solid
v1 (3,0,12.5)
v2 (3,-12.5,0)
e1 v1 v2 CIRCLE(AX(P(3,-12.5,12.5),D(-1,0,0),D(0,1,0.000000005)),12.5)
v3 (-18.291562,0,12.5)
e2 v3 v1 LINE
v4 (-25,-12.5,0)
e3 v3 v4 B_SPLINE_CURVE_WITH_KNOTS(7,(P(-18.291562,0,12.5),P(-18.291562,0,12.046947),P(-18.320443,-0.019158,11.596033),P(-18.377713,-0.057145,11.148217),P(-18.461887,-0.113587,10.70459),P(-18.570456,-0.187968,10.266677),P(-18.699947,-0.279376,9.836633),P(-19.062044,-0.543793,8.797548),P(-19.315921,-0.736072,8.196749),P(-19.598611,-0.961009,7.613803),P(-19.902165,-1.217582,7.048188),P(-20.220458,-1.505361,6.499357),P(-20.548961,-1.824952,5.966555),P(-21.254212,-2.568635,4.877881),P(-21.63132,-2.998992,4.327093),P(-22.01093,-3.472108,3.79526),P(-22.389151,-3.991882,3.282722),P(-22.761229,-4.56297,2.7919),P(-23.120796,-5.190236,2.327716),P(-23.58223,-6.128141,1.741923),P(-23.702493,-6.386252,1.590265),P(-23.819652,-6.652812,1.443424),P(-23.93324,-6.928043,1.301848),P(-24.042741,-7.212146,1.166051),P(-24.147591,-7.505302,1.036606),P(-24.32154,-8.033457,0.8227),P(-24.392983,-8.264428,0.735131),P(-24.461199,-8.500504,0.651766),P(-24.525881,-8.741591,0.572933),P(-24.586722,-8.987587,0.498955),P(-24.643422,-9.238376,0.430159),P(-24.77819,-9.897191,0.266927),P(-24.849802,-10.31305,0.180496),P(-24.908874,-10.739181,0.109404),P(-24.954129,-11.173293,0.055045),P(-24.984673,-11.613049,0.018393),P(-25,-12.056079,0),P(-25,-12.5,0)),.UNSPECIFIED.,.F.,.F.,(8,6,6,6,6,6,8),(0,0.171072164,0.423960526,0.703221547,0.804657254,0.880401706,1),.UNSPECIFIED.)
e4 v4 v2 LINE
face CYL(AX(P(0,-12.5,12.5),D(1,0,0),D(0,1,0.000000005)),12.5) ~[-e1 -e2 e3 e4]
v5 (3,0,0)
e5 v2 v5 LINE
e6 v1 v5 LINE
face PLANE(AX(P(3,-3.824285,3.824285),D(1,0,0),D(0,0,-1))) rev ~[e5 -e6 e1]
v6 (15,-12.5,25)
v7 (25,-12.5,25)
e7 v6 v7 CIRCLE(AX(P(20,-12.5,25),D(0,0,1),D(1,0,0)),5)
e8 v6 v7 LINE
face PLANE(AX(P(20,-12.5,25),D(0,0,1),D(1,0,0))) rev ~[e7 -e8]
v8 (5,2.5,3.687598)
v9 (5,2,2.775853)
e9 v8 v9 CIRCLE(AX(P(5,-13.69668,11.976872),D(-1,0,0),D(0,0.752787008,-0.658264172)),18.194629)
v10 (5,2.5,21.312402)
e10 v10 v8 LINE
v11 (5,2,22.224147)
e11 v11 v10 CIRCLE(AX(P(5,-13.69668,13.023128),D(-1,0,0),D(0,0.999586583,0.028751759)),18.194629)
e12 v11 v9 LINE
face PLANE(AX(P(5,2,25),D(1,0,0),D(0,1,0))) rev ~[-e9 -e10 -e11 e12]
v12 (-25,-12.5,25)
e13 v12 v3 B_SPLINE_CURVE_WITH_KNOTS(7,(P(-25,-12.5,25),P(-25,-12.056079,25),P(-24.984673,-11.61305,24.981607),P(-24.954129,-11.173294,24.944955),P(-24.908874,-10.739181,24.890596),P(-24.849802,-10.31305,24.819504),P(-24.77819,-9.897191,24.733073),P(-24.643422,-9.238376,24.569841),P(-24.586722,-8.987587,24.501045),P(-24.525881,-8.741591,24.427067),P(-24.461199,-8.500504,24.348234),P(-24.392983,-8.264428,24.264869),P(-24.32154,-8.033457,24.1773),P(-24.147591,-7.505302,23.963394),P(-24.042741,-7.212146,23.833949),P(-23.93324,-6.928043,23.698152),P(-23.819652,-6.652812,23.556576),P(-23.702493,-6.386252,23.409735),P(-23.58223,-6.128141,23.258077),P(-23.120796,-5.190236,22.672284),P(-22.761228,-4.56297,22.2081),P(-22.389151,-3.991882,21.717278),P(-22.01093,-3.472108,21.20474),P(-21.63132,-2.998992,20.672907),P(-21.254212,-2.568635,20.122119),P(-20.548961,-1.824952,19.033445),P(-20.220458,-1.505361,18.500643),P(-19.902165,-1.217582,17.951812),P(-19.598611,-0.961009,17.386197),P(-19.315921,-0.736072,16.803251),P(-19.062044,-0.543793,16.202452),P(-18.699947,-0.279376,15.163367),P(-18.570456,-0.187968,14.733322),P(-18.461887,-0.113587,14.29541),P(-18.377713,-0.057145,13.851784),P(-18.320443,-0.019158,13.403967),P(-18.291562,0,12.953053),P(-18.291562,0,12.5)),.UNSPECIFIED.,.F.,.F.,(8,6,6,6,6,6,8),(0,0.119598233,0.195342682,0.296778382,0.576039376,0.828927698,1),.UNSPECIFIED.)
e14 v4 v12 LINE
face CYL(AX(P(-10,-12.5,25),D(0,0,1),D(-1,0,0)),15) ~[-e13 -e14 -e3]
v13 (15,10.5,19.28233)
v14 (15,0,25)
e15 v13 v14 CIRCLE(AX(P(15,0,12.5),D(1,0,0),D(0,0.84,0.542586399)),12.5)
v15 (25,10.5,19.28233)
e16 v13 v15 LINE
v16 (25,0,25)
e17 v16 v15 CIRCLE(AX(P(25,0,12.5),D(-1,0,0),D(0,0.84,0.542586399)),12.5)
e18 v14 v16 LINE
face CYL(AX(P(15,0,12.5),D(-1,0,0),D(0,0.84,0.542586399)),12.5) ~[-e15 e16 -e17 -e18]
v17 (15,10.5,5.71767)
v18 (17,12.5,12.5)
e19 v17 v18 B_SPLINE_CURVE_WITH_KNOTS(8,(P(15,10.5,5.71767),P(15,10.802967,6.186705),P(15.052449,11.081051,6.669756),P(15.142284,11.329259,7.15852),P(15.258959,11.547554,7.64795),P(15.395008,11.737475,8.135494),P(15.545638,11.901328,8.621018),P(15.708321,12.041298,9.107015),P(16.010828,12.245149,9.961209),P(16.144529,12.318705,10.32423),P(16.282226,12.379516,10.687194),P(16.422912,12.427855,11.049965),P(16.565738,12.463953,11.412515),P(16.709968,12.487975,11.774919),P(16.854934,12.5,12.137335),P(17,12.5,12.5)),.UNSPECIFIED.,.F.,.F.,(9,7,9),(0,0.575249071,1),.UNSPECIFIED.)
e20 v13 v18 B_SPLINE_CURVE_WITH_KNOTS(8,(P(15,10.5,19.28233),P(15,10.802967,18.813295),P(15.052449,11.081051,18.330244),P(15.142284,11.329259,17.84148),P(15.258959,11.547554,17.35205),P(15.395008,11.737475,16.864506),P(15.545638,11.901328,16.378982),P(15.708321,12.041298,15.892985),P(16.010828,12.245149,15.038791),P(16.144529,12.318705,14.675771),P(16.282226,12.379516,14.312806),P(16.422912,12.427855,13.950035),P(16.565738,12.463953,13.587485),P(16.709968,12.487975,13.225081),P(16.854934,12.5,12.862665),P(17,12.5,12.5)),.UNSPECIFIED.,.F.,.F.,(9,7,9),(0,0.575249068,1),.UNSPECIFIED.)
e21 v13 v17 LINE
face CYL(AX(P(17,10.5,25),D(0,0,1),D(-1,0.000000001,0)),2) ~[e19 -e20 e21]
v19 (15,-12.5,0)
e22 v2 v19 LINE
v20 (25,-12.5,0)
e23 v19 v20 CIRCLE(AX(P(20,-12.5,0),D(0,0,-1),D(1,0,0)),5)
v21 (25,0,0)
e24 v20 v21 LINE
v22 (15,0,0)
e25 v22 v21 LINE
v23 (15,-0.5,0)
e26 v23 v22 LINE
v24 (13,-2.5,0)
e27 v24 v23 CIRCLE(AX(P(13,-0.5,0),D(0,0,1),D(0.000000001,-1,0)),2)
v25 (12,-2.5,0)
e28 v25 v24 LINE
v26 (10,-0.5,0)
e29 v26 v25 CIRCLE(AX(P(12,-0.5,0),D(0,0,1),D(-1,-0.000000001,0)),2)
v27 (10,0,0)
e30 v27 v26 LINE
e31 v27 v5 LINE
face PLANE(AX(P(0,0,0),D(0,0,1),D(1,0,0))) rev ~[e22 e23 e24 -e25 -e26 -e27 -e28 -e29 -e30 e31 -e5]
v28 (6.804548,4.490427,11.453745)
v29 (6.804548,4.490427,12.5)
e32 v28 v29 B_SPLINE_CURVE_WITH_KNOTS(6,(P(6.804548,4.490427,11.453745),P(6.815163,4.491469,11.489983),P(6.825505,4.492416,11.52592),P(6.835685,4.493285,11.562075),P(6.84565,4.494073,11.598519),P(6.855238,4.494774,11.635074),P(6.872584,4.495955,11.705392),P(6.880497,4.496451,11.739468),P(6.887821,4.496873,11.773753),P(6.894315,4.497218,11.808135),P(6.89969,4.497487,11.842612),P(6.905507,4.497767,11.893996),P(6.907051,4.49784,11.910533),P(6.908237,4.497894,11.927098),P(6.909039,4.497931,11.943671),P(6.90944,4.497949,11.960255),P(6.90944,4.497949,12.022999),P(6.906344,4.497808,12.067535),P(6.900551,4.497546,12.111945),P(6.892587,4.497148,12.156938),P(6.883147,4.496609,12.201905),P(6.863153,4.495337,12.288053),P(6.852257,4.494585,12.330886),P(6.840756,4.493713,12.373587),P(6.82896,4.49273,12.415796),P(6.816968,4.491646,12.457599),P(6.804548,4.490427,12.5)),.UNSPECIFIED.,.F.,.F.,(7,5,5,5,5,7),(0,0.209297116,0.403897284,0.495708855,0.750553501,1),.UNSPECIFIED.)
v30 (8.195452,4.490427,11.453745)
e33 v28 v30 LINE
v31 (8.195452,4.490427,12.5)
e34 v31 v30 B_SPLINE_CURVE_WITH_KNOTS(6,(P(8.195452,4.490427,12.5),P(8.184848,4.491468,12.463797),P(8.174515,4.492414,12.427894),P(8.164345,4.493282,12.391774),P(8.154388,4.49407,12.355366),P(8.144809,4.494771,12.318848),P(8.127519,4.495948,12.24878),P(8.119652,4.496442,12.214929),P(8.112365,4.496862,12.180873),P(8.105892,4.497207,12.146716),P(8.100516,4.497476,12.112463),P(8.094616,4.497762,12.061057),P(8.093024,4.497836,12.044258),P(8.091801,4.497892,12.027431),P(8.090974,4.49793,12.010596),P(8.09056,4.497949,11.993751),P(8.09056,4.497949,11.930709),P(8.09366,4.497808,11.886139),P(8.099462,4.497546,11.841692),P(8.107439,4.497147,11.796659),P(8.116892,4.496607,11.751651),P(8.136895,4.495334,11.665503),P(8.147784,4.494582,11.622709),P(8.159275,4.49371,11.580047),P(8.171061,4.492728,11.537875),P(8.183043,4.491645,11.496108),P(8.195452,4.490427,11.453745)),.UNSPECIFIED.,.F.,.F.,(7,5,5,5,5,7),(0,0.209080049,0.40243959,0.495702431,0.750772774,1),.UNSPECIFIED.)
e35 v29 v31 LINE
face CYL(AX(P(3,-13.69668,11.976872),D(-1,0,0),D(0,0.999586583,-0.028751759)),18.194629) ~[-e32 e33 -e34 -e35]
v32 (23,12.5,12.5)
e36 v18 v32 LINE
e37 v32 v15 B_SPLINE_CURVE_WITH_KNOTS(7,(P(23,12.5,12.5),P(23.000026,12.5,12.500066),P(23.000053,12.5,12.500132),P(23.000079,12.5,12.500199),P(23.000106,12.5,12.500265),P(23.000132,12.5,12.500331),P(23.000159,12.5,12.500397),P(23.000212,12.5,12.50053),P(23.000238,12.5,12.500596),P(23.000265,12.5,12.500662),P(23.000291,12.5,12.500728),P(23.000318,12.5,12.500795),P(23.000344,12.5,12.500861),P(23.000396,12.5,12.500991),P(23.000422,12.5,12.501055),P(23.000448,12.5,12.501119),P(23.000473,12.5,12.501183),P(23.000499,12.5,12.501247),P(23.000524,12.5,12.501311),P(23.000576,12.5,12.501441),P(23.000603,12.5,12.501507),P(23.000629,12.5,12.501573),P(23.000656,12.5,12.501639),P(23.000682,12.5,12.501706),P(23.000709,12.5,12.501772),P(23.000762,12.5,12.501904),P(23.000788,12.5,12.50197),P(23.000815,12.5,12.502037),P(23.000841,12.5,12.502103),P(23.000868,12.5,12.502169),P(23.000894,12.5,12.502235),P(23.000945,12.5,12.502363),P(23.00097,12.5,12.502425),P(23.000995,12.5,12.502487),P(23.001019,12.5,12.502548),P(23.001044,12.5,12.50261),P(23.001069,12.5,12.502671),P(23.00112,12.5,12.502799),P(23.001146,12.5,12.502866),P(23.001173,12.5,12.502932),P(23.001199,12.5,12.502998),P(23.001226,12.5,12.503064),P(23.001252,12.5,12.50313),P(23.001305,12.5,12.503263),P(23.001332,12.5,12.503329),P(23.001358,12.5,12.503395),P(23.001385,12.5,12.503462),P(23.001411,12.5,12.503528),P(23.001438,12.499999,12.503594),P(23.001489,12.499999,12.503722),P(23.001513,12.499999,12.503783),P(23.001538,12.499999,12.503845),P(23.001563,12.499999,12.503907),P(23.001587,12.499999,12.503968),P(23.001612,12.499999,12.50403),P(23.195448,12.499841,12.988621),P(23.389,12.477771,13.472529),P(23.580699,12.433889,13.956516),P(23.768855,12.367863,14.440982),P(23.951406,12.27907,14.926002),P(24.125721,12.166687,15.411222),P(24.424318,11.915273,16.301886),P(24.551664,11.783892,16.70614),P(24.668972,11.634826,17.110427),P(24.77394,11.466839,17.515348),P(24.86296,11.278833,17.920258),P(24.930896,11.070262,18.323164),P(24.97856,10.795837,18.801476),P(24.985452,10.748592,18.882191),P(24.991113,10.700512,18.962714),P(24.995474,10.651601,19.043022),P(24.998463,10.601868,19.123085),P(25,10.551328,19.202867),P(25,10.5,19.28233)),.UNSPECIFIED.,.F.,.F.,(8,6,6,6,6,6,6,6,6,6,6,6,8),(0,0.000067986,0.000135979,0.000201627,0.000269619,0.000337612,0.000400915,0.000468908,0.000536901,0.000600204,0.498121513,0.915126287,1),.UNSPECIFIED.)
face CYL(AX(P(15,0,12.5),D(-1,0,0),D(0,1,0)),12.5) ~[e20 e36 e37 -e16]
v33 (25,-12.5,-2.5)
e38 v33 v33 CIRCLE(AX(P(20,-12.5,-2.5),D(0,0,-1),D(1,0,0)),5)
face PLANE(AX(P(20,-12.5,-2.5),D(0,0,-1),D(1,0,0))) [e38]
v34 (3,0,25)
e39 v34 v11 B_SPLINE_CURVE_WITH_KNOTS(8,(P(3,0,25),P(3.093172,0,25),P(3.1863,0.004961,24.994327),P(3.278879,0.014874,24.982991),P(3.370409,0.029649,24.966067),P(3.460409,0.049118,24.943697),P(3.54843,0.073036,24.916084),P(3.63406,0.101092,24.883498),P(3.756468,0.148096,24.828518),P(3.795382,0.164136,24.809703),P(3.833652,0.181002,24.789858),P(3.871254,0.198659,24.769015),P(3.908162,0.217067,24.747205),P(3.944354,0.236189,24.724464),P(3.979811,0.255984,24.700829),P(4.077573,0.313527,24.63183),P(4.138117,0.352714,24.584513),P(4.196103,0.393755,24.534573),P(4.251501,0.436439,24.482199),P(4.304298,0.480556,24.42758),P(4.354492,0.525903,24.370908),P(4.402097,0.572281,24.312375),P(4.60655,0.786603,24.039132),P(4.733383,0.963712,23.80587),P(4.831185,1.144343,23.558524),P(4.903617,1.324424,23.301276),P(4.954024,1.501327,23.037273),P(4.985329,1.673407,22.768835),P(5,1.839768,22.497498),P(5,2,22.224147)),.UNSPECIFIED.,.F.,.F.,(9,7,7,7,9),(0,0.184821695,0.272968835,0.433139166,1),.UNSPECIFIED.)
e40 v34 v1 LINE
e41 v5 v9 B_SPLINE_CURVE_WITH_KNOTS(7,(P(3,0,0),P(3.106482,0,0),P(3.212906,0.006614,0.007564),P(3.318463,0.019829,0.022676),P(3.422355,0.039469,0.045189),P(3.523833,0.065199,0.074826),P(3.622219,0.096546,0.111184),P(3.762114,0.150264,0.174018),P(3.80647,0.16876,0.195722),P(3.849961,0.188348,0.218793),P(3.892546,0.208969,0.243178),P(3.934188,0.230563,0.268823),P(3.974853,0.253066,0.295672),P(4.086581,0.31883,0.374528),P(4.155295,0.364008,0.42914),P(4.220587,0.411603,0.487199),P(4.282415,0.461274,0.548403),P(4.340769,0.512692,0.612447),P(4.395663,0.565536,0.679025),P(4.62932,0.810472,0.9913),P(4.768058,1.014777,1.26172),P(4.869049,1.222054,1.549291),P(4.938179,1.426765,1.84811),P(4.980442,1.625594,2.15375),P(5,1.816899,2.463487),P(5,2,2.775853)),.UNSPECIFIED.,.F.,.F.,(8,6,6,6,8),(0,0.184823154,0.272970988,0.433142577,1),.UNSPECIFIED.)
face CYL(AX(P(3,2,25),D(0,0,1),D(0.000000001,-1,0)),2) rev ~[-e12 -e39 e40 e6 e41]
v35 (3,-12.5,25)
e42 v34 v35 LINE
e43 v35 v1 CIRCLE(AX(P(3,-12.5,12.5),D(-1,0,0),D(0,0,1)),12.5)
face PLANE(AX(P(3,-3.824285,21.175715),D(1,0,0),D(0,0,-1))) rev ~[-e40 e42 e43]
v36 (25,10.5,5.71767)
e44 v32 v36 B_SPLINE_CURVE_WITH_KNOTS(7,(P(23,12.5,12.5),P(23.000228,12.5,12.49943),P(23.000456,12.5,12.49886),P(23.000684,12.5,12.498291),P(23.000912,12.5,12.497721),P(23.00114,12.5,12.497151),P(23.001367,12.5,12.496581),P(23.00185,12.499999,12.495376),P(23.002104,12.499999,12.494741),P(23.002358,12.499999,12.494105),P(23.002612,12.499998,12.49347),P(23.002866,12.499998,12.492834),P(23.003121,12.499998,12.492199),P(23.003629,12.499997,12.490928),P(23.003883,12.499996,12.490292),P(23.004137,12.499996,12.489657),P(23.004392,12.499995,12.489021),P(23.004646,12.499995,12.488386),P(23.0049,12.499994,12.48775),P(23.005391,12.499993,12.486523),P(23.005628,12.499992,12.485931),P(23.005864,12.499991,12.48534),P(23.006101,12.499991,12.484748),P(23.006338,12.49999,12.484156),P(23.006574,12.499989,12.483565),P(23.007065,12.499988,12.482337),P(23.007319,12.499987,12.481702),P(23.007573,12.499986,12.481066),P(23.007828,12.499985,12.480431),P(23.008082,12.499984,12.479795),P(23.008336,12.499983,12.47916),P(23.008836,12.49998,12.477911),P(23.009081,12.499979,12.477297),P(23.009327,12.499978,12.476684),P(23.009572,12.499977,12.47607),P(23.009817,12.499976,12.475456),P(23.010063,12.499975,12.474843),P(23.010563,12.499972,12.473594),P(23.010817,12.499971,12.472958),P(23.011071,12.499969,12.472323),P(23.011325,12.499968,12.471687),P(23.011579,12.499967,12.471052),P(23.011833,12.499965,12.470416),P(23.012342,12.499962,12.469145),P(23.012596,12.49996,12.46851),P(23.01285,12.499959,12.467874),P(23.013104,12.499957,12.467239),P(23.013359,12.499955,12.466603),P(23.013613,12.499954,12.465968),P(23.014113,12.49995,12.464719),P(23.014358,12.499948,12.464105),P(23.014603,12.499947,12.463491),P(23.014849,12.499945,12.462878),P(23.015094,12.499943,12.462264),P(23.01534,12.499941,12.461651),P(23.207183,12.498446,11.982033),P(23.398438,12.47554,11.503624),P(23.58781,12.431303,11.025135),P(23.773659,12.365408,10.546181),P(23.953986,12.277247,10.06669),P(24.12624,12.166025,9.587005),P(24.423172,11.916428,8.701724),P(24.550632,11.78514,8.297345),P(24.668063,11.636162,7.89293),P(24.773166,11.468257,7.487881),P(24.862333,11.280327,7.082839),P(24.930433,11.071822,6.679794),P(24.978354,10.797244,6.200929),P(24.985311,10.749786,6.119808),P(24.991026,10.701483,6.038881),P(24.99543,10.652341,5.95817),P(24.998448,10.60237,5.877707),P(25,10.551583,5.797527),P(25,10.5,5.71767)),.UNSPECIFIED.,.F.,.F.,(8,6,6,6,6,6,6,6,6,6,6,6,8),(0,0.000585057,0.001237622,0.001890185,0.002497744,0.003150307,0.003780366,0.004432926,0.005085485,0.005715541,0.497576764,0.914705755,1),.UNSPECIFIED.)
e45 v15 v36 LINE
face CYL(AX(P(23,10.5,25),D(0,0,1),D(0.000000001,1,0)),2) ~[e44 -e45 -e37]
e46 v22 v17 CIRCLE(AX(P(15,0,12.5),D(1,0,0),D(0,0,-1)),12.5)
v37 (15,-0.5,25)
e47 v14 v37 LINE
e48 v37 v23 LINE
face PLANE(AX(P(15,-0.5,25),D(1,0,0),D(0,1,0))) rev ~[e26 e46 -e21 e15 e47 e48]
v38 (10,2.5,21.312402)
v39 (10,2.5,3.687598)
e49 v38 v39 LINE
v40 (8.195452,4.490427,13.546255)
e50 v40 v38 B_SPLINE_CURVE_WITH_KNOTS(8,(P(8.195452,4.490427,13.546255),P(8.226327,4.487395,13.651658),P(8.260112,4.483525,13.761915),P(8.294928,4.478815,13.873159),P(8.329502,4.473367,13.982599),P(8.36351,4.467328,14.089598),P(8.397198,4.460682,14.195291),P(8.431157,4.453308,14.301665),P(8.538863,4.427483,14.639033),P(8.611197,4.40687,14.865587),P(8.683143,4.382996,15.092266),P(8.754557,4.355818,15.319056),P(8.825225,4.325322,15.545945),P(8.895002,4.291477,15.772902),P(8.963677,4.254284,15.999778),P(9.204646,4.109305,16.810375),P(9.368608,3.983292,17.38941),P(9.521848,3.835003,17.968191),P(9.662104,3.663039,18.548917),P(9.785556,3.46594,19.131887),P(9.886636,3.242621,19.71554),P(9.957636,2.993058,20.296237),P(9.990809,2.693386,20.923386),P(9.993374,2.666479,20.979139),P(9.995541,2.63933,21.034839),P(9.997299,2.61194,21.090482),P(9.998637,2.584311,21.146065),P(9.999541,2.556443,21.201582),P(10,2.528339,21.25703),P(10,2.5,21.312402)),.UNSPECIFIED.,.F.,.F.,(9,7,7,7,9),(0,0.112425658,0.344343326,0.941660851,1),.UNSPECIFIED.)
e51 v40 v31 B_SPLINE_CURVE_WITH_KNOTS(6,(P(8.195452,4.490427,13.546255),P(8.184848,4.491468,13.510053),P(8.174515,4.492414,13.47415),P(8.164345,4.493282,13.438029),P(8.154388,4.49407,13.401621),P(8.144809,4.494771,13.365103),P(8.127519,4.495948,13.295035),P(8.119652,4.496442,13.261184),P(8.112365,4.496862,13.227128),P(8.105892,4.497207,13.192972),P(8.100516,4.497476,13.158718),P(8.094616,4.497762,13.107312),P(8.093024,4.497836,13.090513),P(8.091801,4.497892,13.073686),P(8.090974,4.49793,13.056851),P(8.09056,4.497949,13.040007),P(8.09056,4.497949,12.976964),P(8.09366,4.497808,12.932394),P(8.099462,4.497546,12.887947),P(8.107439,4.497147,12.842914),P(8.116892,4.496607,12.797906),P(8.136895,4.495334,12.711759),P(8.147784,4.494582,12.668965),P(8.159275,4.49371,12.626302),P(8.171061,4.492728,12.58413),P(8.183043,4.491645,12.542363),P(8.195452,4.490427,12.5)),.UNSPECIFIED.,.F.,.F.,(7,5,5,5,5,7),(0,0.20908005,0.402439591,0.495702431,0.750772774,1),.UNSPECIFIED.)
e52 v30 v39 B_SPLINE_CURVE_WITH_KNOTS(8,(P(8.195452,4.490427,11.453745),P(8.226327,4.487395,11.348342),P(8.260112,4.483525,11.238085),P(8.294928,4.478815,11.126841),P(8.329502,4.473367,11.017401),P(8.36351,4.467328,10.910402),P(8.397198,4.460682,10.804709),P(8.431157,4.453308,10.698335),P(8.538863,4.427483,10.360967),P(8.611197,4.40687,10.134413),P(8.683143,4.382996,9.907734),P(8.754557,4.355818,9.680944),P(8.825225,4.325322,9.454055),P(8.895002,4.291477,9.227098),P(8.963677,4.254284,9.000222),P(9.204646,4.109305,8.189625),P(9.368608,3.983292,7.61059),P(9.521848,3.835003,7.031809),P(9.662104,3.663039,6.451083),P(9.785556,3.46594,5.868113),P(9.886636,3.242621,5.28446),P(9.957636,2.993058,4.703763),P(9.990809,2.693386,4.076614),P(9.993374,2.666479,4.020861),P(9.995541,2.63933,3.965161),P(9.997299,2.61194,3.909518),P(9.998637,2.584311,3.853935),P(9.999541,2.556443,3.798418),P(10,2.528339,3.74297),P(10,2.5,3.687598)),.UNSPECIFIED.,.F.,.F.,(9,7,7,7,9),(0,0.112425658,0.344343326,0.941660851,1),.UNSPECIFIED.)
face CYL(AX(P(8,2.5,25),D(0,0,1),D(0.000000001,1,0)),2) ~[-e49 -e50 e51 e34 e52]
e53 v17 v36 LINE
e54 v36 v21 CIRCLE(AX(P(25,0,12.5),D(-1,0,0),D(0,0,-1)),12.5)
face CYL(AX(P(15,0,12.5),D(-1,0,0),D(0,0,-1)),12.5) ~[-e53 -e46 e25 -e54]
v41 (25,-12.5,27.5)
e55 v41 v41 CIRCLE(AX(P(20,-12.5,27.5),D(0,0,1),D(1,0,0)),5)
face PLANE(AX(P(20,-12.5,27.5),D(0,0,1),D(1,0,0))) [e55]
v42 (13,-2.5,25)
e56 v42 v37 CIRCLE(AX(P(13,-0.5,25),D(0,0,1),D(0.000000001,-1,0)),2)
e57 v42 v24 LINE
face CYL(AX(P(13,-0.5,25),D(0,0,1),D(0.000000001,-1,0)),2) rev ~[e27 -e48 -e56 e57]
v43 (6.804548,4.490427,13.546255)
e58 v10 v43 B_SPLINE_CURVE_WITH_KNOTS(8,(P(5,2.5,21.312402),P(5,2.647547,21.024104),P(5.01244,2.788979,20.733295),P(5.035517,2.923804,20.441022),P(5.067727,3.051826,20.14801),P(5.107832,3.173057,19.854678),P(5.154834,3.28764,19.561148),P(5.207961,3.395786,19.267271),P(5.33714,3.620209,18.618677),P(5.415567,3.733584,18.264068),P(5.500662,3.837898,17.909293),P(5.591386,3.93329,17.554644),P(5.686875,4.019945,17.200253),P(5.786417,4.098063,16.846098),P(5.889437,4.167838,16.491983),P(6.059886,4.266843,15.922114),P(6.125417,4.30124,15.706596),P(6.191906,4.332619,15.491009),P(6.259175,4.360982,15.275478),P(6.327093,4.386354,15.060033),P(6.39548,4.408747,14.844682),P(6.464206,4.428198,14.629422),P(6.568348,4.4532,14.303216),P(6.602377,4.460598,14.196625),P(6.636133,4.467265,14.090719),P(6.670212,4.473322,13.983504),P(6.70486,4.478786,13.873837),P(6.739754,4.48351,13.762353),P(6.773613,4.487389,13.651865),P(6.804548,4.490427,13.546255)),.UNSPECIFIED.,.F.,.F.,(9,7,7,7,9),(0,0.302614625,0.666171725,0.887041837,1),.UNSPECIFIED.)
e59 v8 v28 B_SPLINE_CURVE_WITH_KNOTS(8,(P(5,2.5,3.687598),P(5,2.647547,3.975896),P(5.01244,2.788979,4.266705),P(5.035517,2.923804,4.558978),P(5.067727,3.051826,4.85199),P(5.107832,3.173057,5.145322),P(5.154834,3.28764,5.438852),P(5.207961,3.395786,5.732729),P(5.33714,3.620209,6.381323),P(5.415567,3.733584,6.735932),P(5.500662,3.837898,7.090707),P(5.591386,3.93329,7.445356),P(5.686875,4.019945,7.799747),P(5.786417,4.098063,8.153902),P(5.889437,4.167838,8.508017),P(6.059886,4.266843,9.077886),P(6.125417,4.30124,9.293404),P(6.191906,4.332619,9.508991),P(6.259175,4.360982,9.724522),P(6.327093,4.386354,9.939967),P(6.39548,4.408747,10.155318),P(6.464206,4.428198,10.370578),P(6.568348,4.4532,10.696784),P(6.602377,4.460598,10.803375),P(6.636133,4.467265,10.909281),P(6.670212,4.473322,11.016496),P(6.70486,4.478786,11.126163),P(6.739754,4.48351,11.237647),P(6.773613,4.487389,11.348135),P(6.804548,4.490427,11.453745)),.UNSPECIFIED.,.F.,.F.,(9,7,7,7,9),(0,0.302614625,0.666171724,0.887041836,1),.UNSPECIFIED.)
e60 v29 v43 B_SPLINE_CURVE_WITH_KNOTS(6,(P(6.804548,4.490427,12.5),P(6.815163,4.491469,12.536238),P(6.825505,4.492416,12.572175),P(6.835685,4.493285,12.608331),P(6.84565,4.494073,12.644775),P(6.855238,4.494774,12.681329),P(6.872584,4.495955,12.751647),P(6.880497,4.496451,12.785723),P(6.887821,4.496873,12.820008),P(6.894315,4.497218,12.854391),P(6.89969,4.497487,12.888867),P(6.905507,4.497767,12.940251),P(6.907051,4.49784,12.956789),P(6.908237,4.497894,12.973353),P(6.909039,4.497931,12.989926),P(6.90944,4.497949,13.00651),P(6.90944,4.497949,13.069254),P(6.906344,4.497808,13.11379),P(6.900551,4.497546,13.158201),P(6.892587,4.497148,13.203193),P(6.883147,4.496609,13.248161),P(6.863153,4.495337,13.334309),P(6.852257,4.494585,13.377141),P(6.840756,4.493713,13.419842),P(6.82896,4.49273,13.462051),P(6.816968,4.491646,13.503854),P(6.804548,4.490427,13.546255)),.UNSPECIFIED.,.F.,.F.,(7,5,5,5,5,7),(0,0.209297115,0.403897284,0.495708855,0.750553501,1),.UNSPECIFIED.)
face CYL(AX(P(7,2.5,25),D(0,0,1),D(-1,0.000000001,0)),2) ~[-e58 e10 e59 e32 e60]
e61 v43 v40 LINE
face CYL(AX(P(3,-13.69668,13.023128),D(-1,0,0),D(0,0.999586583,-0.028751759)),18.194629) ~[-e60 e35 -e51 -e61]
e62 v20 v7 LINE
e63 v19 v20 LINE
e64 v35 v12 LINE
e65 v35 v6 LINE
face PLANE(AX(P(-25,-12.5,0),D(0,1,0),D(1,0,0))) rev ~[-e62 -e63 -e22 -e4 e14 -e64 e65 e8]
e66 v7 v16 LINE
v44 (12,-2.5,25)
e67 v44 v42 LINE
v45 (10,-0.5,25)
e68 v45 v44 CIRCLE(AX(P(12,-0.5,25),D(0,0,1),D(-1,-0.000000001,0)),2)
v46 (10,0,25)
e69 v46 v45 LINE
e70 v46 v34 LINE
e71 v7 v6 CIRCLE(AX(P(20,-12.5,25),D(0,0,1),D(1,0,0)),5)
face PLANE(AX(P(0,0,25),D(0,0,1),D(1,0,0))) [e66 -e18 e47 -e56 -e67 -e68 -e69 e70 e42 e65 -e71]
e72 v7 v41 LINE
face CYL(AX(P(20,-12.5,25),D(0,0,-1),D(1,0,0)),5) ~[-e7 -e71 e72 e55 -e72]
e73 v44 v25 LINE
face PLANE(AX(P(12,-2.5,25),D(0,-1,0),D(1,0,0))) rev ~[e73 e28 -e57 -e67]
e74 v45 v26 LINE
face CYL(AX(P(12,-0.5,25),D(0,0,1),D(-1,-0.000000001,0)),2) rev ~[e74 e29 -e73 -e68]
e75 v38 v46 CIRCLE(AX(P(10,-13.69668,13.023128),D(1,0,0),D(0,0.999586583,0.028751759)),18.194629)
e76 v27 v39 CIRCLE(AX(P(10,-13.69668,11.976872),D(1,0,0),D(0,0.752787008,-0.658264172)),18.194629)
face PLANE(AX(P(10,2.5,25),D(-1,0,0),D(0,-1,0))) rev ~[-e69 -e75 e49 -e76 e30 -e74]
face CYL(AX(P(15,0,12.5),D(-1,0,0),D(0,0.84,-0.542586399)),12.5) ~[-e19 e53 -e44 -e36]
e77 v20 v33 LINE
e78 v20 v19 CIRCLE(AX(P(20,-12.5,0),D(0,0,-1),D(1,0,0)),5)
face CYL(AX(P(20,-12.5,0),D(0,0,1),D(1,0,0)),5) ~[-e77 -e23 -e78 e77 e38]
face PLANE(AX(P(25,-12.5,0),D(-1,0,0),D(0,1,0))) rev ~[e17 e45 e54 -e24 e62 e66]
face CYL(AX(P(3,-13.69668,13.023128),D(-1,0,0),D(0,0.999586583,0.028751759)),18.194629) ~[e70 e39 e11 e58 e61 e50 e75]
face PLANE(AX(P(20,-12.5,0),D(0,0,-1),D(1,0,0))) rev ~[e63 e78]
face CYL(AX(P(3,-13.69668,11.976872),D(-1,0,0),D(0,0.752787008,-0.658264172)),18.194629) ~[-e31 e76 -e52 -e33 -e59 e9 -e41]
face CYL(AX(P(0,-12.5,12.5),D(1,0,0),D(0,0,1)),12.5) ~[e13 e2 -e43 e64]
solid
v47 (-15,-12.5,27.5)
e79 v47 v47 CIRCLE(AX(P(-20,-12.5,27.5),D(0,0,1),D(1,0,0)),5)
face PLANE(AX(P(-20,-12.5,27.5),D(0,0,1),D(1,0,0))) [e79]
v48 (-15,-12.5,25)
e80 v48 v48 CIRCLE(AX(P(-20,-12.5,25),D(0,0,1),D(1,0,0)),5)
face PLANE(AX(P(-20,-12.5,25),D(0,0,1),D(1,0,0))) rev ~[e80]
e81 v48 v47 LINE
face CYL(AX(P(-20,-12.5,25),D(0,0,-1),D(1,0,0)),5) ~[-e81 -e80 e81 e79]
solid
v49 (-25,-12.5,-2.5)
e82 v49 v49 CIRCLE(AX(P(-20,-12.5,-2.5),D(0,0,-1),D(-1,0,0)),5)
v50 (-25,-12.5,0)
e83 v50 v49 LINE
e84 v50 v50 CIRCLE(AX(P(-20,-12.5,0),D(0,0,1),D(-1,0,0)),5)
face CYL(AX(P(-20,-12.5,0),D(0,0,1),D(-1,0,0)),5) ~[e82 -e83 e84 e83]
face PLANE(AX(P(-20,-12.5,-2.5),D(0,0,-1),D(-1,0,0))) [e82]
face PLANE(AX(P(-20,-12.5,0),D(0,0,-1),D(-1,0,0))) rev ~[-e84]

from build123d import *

# Parameters (mm, degrees)
SKETCH1_W               = 50
SKETCH1_H               = 25
BOSS_EXTRUDE1_DEPTH     = 25
CUT_EXTRUDE2_DEPTH      = 25
CUT_EXTRUDE3_DEPTH      = 49.79805324
CUT_EXTRUDE3_DEPTH_BACK = 49.79805324
CUT_EXTRUDE5_DEPTH      = 3
CUT_EXTRUDE5_DEPTH_BACK = 28
CUT_EXTRUDE9_DEPTH      = 7
SKETCH9_R               = 5
BOSS_EXTRUDE2_DEPTH     = 2.5
SKETCH10_R              = 5
BOSS_EXTRUDE3_DEPTH     = 2.5


with BuildPart() as part:
    # Sketch1 → Boss-Extrude1 (new body)
    with BuildSketch(Plane.XY):
        Rectangle(SKETCH1_W, SKETCH1_H)
    extrude(amount=BOSS_EXTRUDE1_DEPTH)

    # Sketch2 → Cut-Extrude2 (cut)
    with BuildSketch(Plane.XY.offset(25)):
        with BuildLine():
            Line((-25, 12.5), (-25, -12.5))
            ThreePointArc((-25, -12.5), (-23.216910184, -5.406814173), (-18.291561976, 0))
            Line((-18.291561976, 0), (3, 0))
            ThreePointArc((3, 0), (4.414213562, 0.585786438), (5, 2))
            Line((5, 2), (5, 2.5))
            ThreePointArc((5, 2.5), (5.585786438, 3.914213562), (7, 4.5))
            Line((7, 4.5), (8, 4.5))
            ThreePointArc((8, 4.5), (9.414213562, 3.914213562), (10, 2.5))
            Line((10, 2.5), (10, -0.5))
            ThreePointArc((10, -0.5), (10.585786438, -1.914213562), (12, -2.5))
            Line((12, -2.5), (13, -2.5))
            ThreePointArc((13, -2.5), (14.414213562, -1.914213562), (15, -0.5))
            Line((15, -0.5), (15, 10.5))
            ThreePointArc((15, 10.5), (15.585786438, 11.914213562), (17, 12.5))
            Line((17, 12.5), (-25, 12.5))
        make_face()
        with BuildLine():
            Line((25, 12.5), (23, 12.5))
            ThreePointArc((23, 12.5), (24.414213562, 11.914213562), (25, 10.5))
            Line((25, 10.5), (25, 12.5))
        make_face()
    extrude(amount=-CUT_EXTRUDE2_DEPTH, mode=Mode.SUBTRACT)

    # Sketch5 → Cut-Extrude3 (cut, two sides)
    with BuildSketch(Plane.ZY.offset(-15)) as cut_extrude3_sk:
        with BuildLine():
            Line((0, 12.5), (0, 10.5))
            Line((0, 10.5), (5.717670017, 10.5))
            ThreePointArc((5.717670017, 10.5), (8.964466094, 11.989578808), (12.5, 12.5))
            Line((12.5, 12.5), (0, 12.5))
        make_face()
        with BuildLine():
            Line((0, 10.5), (0, 0))
            ThreePointArc((0, 0), (1.522087521, 5.977912479), (5.717670017, 10.5))
            Line((5.717670017, 10.5), (0, 10.5))
        make_face()
        with BuildLine():
            ThreePointArc((19.282329983, 10.5), (23.477912479, 5.977912479), (25, 0))
            Line((25, 0), (25, 10.5))
            Line((25, 10.5), (19.282329983, 10.5))
        make_face()
        with BuildLine():
            Line((19.282329983, 10.5), (25, 10.5))
            Line((25, 10.5), (25, 12.5))
            Line((25, 12.5), (12.5, 12.5))
            ThreePointArc((12.5, 12.5), (16.035533906, 11.989578808), (19.282329983, 10.5))
        make_face()
    extrude(amount=CUT_EXTRUDE3_DEPTH, mode=Mode.SUBTRACT)
    extrude(cut_extrude3_sk.sketch, amount=-CUT_EXTRUDE3_DEPTH_BACK, mode=Mode.SUBTRACT)

    # Sketch7 → Cut-Extrude5 (cut, two sides)
    with BuildSketch(Plane(origin=(0, 0, 0), x_dir=(0, 0, -1), z_dir=(1, 0, 0))) as cut_extrude5_sk:
        with BuildLine():
            ThreePointArc((-25, -12.5), (-21.338834788, -3.661165258), (-12.500000066, 0))
            Line((-12.500000066, 0), (-25, 0))
            Line((-25, 0), (-25, -12.5))
        make_face()
        with BuildLine():
            ThreePointArc((-12.500000066, 0), (-3.661165258, -3.661165212), (0, -12.5))
            Line((0, -12.5), (0, 0))
            Line((0, 0), (-12.500000066, 0))
        make_face()
    extrude(amount=CUT_EXTRUDE5_DEPTH, mode=Mode.SUBTRACT)
    extrude(cut_extrude5_sk.sketch, amount=-CUT_EXTRUDE5_DEPTH_BACK, mode=Mode.SUBTRACT)

    # Sketch8 → Cut-Extrude9 (cut)
    with BuildSketch(Plane.ZY.offset(-3)):
        with BuildLine():
            Line((0, 6.612766069), (0, 4.490426703))
            Line((0, 4.490426703), (11.453744839, 4.490426703))
            ThreePointArc((11.453744839, 4.490426703), (11.97687242, 4.497948677), (12.5, 4.490426703))
            Line((12.5, 4.490426703), (12.5, 6.612766069))
            Line((12.5, 6.612766069), (0, 6.612766069))
        make_face()
        with BuildLine():
            Line((0, 4.490426703), (0, 0))
            ThreePointArc((0, 0), (5.335827096, 3.24265383), (11.453744839, 4.490426703))
            Line((11.453744839, 4.490426703), (0, 4.490426703))
        make_face()
        with BuildLine():
            Line((12.5, 6.612766069), (12.5, 4.490426703))
            ThreePointArc((12.5, 4.490426703), (13.02312758, 4.497948677), (13.546255161, 4.490426703))
            Line((13.546255161, 4.490426703), (25, 4.490426703))
            Line((25, 4.490426703), (25, 6.612766069))
            Line((25, 6.612766069), (12.5, 6.612766069))
        make_face()
        with BuildLine():
            ThreePointArc((13.546255161, 4.490426703), (19.664172904, 3.24265383), (25, 0))
            Line((25, 0), (25, 4.490426703))
            Line((25, 4.490426703), (13.546255161, 4.490426703))
        make_face()
    extrude(amount=-CUT_EXTRUDE9_DEPTH, mode=Mode.SUBTRACT)

    # Sketch9 → Boss-Extrude2 (add)
    with BuildSketch(Plane.XY.offset(25)):
        with Locations((-20, -12.5)):
            Circle(SKETCH9_R)
        with Locations((20, -12.5)):
            Circle(SKETCH9_R)
    extrude(amount=BOSS_EXTRUDE2_DEPTH)


with BuildPart() as boss_extrude2_piece_1:
    # of the separate pieces the step leaves, piece 1, a body of its own (boss_extrude2_pieces)
    add(part.part.solids().sort_by_distance((15, 10.5, 5.717670017))[0])

    # Sketch10 → Boss-Extrude3 (add)
    with BuildSketch(Plane(origin=(0, 0, 0), x_dir=(-1, 0, 0), z_dir=(0, 0, -1))):
        with Locations(Location((-20, -12.5, 0), (0, 0, 180))):
            Circle(SKETCH10_R)
        with Locations((20, -12.5)):
            Circle(SKETCH10_R)
    extrude(amount=BOSS_EXTRUDE3_DEPTH)


with BuildPart() as boss_extrude2_piece_2:
    # of the separate pieces the step leaves, piece 2, a body of its own (boss_extrude2_pieces)
    add(part.part.solids().sort_by_distance((-15, -12.5, 27.5))[0])


with BuildPart() as boss_extrude3_piece_1:
    # of the separate pieces the step leaves, piece 1, a body of its own (boss_extrude3_pieces)
    add(boss_extrude2_piece_1.part.solids().sort_by_distance((15, 10.5, 5.717670017))[0])


with BuildPart() as boss_extrude3_piece_2:
    # of the separate pieces the step leaves, piece 2, a body of its own (boss_extrude3_pieces)
    add(boss_extrude2_piece_1.part.solids().sort_by_distance((-25, -12.5, -2.5))[0])


solid = Compound([boss_extrude2_piece_2.part, boss_extrude3_piece_1.part, boss_extrude3_piece_2.part])
